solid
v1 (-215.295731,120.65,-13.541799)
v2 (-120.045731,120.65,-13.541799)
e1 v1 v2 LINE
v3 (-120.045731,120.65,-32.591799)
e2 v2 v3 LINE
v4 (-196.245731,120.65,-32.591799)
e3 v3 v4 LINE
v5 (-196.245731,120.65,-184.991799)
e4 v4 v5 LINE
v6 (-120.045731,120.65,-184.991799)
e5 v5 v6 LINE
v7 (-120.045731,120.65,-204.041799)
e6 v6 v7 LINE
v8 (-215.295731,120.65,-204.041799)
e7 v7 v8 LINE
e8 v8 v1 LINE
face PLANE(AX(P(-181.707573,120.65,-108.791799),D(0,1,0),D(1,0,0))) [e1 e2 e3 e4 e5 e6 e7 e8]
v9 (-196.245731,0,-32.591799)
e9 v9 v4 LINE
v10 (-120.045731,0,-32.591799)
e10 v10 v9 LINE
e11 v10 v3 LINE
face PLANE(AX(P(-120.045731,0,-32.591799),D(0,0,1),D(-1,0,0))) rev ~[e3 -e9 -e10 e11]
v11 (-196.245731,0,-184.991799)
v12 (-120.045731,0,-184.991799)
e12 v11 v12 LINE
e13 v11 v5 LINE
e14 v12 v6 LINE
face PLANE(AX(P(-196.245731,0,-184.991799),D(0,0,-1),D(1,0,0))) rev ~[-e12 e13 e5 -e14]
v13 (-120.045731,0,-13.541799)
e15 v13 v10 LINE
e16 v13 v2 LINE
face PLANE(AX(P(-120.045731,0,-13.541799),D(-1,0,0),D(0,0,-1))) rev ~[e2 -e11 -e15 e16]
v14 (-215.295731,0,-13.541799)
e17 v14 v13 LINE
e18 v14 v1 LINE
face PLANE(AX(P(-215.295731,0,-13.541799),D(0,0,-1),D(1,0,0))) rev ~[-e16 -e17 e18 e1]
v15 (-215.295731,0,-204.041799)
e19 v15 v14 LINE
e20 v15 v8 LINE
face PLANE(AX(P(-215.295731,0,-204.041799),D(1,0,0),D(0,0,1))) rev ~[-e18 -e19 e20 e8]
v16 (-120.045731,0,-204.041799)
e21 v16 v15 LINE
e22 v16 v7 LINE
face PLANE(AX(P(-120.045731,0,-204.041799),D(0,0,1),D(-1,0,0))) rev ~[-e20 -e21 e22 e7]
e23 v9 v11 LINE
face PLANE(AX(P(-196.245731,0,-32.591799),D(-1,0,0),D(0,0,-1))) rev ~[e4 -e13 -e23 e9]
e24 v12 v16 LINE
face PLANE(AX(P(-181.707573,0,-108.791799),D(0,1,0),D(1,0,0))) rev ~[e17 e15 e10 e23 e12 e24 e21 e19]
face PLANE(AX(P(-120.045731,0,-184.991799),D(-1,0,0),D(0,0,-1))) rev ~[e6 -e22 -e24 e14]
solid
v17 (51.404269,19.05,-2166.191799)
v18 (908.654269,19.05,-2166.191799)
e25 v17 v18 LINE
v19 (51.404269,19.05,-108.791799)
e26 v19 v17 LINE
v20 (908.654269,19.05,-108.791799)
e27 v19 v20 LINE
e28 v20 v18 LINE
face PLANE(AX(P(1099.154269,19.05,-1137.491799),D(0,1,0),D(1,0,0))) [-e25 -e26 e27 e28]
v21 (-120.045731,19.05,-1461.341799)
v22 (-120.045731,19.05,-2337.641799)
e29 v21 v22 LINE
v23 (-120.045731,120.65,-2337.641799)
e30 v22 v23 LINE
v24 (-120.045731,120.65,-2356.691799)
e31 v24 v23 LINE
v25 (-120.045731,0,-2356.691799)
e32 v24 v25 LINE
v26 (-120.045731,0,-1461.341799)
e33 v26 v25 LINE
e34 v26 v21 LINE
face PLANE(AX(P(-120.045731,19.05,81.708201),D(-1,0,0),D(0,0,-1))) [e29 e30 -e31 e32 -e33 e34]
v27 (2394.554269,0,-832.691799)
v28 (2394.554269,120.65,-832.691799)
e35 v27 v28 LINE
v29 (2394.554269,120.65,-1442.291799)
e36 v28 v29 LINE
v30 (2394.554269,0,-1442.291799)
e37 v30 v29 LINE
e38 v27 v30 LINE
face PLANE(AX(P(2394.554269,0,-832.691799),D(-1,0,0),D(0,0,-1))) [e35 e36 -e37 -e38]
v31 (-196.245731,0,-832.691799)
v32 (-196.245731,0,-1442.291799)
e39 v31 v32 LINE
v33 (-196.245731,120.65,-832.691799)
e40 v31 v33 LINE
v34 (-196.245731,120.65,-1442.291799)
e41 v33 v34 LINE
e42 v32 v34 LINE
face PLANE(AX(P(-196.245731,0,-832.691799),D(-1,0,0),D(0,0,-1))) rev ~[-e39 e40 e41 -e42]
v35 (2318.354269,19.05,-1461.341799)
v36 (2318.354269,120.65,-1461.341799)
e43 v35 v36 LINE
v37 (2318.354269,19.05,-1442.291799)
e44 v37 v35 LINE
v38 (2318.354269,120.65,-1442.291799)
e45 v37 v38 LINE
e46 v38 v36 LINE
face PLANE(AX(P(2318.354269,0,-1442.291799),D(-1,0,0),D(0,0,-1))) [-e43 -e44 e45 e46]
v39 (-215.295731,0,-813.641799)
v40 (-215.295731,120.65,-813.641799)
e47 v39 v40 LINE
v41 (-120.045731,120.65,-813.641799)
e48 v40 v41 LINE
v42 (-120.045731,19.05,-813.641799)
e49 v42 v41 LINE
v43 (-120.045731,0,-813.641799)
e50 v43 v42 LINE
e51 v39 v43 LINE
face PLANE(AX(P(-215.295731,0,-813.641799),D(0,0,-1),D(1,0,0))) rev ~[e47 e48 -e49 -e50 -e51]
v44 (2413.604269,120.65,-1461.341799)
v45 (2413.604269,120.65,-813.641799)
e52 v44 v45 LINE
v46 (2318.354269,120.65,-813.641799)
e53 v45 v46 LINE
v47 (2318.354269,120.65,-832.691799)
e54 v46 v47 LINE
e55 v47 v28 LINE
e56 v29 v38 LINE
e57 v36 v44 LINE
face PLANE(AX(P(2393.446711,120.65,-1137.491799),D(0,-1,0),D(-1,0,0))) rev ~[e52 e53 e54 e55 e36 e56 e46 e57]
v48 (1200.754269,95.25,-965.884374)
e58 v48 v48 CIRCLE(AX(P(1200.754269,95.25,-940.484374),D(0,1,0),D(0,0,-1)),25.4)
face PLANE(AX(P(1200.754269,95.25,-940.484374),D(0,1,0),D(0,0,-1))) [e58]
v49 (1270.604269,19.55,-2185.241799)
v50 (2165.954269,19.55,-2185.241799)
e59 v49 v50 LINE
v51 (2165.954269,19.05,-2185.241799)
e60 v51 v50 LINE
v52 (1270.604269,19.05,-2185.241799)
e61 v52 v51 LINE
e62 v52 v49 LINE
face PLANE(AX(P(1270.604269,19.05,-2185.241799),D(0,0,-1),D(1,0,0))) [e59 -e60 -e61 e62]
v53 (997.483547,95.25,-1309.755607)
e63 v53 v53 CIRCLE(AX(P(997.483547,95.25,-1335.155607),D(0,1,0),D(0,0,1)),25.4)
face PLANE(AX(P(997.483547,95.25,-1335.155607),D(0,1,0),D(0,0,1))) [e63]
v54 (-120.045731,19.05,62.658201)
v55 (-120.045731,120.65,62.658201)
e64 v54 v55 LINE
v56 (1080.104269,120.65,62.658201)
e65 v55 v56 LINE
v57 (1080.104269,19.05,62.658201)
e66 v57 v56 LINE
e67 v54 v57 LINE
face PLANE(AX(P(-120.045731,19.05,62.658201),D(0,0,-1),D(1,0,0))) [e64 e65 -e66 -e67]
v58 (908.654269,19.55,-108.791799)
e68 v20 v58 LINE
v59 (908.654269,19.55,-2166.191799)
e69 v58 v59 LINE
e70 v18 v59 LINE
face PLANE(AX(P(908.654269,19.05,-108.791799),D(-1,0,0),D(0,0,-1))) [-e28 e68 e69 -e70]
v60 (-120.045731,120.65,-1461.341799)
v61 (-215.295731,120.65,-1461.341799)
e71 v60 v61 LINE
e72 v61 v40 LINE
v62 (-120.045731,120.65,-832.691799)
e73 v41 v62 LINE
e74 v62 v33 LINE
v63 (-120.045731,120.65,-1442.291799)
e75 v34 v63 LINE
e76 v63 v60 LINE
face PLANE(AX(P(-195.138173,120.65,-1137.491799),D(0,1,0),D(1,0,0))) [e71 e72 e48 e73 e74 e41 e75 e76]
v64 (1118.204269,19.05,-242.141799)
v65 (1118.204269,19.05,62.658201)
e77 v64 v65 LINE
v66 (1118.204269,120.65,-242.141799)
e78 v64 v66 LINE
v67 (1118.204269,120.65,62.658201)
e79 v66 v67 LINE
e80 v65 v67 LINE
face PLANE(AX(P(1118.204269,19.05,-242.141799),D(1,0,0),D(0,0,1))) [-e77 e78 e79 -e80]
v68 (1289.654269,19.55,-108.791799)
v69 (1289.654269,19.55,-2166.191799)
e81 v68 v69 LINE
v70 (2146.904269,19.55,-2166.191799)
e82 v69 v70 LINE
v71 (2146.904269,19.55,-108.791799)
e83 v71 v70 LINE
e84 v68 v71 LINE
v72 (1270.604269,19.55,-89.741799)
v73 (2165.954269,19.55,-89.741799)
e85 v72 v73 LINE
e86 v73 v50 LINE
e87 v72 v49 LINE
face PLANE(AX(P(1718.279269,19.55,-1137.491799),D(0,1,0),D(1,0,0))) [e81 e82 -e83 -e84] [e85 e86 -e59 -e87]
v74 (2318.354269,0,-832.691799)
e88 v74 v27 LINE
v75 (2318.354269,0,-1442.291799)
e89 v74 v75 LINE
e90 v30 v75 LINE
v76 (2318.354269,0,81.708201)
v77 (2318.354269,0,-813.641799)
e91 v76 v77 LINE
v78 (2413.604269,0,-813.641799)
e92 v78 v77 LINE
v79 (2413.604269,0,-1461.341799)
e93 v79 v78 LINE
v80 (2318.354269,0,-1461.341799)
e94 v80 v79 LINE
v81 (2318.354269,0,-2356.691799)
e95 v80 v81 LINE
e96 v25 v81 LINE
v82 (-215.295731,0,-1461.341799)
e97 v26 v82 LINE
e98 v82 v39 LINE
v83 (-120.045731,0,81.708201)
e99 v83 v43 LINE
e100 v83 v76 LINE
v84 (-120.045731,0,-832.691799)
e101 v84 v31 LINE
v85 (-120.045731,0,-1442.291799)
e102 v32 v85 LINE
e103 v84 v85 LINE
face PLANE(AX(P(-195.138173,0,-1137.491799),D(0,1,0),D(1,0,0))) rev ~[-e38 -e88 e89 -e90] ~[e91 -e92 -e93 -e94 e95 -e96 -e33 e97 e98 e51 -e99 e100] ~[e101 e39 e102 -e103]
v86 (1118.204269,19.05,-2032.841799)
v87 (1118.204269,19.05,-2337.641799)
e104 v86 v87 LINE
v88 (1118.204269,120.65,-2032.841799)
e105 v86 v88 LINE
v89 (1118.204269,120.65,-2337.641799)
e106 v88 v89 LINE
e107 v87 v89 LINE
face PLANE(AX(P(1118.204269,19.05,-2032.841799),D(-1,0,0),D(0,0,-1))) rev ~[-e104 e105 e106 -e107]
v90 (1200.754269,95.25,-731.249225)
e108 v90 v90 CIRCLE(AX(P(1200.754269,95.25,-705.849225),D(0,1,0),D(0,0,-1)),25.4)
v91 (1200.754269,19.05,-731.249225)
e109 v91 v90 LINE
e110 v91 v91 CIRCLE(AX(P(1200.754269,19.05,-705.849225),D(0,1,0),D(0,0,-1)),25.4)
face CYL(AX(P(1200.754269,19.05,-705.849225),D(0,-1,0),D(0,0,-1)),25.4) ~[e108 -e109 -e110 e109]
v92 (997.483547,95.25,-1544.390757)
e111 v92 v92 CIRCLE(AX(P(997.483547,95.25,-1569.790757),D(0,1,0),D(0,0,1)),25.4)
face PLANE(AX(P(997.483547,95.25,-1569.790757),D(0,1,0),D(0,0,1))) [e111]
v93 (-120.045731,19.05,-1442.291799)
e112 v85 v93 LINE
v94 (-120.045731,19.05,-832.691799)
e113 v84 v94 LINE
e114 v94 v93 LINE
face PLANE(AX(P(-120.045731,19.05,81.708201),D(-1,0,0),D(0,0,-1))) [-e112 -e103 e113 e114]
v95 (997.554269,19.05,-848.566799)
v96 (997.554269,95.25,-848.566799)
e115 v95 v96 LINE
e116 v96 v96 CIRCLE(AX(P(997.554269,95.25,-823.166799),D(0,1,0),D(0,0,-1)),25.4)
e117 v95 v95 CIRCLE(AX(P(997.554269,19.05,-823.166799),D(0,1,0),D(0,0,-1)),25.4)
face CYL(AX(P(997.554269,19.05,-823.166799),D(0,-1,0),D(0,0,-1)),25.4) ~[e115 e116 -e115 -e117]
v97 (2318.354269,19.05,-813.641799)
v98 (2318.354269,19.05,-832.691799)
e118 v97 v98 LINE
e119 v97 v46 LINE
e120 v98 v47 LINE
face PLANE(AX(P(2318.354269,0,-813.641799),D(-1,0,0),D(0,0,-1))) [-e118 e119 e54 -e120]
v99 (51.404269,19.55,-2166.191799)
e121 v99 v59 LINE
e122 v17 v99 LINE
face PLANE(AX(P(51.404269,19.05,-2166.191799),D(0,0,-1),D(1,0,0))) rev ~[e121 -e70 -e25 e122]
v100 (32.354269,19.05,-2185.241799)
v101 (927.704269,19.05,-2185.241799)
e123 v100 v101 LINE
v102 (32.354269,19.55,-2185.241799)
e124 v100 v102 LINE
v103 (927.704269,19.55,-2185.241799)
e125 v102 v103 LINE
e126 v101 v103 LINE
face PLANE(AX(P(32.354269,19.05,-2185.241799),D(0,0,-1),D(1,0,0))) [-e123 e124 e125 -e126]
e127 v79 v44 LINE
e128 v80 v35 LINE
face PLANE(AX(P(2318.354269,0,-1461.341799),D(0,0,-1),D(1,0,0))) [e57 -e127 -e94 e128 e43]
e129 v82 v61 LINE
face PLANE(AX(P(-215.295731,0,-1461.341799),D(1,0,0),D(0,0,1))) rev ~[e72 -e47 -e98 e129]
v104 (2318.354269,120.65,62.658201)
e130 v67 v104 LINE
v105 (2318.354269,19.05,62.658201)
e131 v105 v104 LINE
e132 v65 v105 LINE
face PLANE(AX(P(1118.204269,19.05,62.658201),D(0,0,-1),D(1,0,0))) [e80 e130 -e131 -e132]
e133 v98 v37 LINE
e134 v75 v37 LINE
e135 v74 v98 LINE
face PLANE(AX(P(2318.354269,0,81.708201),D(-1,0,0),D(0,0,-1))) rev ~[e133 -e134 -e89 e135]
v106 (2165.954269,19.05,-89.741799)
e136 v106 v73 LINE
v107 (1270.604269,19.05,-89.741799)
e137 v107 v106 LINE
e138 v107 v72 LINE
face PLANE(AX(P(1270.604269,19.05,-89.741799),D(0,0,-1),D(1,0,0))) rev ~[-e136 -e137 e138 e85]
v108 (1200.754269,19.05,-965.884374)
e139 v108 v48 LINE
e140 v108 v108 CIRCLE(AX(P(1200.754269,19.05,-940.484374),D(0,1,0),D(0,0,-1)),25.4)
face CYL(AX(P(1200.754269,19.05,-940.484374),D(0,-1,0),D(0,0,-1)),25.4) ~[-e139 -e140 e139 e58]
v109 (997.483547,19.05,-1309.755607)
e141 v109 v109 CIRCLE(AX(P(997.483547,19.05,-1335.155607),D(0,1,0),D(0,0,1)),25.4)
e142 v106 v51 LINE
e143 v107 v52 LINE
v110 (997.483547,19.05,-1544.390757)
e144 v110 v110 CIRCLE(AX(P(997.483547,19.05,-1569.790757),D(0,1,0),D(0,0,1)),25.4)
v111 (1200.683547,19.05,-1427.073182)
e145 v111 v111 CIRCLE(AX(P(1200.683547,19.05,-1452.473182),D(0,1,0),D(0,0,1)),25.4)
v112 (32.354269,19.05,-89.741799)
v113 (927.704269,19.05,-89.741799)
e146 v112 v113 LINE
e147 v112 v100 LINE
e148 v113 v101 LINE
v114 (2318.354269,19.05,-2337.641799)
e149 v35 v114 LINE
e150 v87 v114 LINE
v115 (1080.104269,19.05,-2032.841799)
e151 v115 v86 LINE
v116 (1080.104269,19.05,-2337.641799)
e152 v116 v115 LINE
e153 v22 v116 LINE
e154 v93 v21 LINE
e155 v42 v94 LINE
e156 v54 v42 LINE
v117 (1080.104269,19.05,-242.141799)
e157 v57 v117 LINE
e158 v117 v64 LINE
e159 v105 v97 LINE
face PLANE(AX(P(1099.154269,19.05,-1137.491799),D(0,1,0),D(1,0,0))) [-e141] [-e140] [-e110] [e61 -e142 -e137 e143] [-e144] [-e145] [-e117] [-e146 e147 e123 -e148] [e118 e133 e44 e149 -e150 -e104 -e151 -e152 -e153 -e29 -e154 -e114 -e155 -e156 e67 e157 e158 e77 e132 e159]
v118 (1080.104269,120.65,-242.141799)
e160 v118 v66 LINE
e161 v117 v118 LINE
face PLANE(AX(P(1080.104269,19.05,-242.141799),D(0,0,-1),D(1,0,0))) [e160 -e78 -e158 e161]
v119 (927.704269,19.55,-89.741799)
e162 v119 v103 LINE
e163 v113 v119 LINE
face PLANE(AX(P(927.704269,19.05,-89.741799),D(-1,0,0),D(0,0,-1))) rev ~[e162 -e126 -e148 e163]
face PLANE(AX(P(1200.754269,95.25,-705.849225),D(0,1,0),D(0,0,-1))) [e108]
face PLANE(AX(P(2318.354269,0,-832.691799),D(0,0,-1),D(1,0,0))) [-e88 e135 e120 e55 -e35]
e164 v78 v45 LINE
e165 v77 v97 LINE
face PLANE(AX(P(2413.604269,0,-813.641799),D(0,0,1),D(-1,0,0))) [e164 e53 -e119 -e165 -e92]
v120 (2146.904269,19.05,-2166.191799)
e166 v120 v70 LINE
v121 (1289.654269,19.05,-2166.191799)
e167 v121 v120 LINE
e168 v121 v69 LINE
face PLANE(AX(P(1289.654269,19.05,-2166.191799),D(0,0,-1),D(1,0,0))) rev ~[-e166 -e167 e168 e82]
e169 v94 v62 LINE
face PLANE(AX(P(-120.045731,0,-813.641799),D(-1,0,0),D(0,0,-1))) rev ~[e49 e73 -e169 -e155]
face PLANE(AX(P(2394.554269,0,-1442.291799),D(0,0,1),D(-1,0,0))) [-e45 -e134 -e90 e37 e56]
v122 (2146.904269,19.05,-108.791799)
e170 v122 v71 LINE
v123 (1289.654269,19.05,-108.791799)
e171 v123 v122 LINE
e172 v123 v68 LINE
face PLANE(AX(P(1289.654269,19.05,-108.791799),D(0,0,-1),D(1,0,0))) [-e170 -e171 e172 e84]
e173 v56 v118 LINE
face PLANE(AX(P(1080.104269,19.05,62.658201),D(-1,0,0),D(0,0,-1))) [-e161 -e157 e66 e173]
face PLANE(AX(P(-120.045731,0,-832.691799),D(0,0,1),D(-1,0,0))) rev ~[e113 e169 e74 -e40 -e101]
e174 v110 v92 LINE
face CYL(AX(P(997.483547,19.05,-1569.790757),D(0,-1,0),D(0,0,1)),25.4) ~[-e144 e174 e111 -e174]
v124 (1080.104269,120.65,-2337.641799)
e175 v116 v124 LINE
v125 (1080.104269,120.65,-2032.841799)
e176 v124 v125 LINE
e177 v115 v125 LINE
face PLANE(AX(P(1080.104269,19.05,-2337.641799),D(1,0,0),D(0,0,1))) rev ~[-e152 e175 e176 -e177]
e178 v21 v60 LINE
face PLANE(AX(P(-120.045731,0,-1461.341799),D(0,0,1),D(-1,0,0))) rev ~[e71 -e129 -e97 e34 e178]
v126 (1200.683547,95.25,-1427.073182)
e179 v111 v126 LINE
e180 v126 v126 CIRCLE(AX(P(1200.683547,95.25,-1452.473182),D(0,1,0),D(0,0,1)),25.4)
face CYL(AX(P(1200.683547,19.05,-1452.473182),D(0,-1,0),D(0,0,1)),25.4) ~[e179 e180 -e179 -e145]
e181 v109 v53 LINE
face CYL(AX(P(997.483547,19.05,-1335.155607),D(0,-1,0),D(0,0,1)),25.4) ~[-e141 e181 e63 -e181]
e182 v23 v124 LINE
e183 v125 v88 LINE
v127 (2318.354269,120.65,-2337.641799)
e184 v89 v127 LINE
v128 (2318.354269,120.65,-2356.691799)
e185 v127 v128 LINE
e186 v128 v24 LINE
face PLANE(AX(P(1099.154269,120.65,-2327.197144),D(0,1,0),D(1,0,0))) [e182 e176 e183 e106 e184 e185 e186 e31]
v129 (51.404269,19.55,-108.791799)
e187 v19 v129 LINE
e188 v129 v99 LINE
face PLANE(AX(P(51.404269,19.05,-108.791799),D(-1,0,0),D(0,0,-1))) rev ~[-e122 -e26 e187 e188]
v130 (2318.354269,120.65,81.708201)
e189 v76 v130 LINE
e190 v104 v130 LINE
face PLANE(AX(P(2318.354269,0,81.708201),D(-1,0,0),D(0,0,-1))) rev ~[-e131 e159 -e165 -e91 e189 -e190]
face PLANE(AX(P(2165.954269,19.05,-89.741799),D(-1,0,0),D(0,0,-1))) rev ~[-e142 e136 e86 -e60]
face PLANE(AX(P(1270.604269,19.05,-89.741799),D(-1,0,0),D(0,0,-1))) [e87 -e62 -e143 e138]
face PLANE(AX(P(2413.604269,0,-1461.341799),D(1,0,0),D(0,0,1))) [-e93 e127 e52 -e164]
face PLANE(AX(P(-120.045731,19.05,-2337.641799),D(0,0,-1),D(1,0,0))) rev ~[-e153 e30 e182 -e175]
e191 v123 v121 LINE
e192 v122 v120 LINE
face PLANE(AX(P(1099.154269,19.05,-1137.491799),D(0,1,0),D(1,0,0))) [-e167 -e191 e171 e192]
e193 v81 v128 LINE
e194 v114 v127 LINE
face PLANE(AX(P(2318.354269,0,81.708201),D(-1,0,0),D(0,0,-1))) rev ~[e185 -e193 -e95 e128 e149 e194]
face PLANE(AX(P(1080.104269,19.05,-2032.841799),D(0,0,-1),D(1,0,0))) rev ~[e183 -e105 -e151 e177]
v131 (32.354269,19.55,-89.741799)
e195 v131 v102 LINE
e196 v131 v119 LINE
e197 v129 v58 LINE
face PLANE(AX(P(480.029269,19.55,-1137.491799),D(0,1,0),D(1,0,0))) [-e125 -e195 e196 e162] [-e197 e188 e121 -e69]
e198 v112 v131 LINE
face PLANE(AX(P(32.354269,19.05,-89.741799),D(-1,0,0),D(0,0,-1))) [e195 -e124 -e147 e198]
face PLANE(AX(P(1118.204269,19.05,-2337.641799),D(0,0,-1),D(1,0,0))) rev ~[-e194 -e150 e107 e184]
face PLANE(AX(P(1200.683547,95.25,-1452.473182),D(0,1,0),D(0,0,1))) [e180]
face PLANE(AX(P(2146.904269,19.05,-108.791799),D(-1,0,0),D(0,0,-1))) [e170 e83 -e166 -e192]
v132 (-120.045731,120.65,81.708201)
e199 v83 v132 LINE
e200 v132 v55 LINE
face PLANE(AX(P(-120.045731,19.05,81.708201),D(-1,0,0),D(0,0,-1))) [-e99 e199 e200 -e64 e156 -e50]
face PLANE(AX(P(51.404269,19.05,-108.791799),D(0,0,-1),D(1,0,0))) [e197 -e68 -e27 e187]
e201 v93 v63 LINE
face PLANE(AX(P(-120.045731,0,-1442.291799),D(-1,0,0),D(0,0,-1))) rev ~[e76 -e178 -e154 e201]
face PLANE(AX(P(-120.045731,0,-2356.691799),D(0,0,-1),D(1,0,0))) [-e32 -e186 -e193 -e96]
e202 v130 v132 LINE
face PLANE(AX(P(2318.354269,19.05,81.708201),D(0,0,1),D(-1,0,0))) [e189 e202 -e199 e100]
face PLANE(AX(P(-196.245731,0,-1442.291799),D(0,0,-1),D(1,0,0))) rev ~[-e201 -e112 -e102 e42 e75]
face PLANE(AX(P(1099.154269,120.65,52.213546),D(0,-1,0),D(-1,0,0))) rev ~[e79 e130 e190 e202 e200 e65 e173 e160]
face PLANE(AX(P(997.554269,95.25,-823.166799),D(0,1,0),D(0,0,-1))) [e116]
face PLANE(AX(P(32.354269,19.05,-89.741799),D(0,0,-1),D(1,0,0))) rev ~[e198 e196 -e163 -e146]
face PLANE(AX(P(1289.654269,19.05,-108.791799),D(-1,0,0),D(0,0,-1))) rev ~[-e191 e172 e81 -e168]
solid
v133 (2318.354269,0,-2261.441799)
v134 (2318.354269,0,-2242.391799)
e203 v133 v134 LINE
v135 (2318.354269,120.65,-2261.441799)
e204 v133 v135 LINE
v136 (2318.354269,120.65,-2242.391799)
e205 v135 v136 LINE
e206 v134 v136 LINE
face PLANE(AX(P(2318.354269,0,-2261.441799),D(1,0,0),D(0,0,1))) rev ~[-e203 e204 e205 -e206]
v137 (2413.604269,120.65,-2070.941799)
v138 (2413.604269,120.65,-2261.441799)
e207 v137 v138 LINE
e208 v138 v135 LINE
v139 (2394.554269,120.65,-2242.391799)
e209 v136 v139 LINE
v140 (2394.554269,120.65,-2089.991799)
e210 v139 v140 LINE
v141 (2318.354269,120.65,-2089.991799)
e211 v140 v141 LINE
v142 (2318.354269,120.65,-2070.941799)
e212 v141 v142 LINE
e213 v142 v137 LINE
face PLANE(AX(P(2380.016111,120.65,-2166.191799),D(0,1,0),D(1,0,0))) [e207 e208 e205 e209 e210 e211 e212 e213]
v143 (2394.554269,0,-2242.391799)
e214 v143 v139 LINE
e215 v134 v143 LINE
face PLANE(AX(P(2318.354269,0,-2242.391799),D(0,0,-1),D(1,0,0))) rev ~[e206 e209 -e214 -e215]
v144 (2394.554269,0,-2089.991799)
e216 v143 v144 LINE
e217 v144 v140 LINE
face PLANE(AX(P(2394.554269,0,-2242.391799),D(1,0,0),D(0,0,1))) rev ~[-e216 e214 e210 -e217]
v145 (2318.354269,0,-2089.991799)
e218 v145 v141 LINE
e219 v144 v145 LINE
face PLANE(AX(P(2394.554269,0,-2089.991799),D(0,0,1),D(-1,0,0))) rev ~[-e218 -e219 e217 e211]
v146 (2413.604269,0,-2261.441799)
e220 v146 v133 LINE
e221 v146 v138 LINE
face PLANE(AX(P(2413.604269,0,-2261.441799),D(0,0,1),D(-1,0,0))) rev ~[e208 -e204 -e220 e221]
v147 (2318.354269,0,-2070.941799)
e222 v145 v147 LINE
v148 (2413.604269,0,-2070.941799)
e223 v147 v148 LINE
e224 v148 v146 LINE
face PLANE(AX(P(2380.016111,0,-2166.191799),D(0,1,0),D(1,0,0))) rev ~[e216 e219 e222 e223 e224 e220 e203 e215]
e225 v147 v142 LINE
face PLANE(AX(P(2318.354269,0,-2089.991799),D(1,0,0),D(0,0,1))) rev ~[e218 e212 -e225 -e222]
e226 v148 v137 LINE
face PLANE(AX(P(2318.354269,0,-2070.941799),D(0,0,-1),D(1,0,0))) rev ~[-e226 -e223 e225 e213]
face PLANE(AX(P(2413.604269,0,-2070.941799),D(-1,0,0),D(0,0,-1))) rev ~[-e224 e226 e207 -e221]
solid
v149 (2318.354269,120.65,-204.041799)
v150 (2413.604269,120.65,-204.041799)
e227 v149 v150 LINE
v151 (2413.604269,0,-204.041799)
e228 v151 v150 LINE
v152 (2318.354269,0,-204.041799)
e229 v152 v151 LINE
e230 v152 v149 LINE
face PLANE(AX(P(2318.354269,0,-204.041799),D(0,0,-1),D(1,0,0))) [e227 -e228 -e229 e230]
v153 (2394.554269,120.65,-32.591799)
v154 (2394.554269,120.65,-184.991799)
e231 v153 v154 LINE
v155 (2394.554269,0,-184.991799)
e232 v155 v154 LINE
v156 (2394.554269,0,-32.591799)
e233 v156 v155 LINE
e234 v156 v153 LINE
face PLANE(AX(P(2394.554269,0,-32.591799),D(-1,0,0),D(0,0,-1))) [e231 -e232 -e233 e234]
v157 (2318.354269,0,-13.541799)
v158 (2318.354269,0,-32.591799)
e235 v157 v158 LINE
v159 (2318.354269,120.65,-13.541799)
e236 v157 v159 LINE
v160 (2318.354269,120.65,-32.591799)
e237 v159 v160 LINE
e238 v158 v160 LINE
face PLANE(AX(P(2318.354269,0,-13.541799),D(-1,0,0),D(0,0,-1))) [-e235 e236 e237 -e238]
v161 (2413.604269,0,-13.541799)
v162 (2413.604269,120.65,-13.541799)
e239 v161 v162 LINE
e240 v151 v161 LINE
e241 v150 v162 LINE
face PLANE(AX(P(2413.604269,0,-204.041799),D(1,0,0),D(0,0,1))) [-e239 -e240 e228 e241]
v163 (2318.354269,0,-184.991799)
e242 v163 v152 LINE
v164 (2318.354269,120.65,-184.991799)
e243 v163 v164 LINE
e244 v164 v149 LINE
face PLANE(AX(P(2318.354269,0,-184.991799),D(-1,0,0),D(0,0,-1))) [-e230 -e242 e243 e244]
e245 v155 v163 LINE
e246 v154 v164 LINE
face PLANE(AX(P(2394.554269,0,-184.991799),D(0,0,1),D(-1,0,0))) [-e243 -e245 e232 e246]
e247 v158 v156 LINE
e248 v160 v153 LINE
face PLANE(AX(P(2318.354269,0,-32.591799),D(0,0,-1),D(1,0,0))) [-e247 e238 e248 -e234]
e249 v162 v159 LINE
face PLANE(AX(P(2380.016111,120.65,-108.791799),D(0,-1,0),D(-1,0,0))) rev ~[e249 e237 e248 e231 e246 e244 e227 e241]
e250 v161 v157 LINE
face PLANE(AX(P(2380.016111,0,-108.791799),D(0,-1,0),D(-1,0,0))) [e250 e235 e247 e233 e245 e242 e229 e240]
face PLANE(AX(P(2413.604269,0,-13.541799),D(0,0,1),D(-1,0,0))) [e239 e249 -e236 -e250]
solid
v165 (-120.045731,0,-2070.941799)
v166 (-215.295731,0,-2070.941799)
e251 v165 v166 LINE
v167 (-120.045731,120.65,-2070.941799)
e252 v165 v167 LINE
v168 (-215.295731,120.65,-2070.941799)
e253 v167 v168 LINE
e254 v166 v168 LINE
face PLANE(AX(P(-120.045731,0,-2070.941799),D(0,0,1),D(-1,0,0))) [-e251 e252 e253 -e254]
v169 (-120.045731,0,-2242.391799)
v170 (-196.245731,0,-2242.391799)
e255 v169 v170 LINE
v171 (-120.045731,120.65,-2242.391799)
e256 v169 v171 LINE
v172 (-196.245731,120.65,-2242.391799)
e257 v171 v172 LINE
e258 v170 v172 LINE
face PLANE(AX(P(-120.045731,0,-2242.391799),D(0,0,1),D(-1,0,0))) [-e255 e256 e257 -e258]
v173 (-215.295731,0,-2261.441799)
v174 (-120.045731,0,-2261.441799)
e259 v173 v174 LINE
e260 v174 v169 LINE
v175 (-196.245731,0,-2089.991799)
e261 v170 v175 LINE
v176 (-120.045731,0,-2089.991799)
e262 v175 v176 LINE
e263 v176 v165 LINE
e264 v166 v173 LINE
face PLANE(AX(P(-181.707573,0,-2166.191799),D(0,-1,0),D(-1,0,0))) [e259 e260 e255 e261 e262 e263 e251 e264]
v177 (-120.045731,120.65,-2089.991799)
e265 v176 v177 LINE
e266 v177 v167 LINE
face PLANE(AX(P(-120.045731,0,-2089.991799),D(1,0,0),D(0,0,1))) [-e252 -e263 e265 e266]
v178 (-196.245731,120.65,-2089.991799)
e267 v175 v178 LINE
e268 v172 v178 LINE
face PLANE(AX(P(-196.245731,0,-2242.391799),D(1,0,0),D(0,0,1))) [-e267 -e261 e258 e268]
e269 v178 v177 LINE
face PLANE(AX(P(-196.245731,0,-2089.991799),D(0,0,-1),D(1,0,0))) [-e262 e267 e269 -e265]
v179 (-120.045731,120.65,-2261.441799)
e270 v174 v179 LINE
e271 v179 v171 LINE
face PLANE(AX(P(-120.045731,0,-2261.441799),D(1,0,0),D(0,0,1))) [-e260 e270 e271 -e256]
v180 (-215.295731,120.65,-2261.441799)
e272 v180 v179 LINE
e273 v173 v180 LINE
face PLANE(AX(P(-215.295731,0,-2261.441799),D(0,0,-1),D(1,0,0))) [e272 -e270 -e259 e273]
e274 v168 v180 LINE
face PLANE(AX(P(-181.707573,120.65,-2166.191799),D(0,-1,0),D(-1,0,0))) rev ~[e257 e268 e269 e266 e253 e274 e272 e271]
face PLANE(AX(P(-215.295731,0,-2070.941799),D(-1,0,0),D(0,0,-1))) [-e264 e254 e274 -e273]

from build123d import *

# Parameters (mm, degrees)
SKETCH1_W                  = 2438.4
SKETCH1_H                  = 2438.4
BOSS_EXTRUDE1_DEPTH        = 19.05
BOSS_EXTRUDE2_DEPTH        = 101.6
BOSS_EXTRUDE3_DEPTH        = 101.6
BOSS_EXTRUDE3_DEPTH_BACK   = 19.05
BOSS_EXTRUDE3_2_DEPTH      = 101.6
BOSS_EXTRUDE3_2_DEPTH_BACK = 19.05
BOSS_EXTRUDE3_3_DEPTH      = 101.6
BOSS_EXTRUDE3_3_DEPTH_BACK = 19.05
BOSS_EXTRUDE3_4_DEPTH      = 101.6
BOSS_EXTRUDE3_4_DEPTH_BACK = 19.05
BOSS_EXTRUDE4_DEPTH        = 101.6
BOSS_EXTRUDE4_DEPTH_BACK   = 19.05
SKETCH6_R                  = 25.4
BOSS_EXTRUDE5_DEPTH        = 76.2
CIRPATTERN1_COUNT          = 2
SKETCH7_W                  = 895.35
SKETCH7_H                  = 2095.5
SKETCH7_W_2                = 857.25
SKETCH7_H_2                = 2057.4
BOSS_EXTRUDE6_DEPTH        = 0.5


with BuildPart() as part:
    # Sketch1 → Boss-Extrude1 (new body)
    with BuildSketch(Plane(origin=(0, 0, 0), x_dir=(1, 0, 0), z_dir=(0, 1, 0))):
        with Locations((1099.154268687, 1137.491799293)):
            Rectangle(SKETCH1_W, SKETCH1_H)
    extrude(amount=BOSS_EXTRUDE1_DEPTH)

    # Sketch2 → Boss-Extrude2 (add)
    with BuildSketch(Plane(origin=(0, 19.05, 0), x_dir=(1, 0, 0), z_dir=(0, 1, 0))):
        Polygon((-120.045731313, -62.658200707), (1080.104268687, -62.658200707), (1080.104268687, 242.141799293), (1118.204268687, 242.141799293), (1118.204268687, -62.658200707), (2318.354268687, -62.658200707), (2318.354268687, -81.708200707), (-120.045731313, -81.708200707), align=None)
        Polygon((-120.045731313, 2356.691799293), (-120.045731313, 2337.641799293), (1080.104268687, 2337.641799293), (1080.104268687, 2032.841799293), (1118.204268687, 2032.841799293), (1118.204268687, 2337.641799293), (2318.354268687, 2337.641799293), (2318.354268687, 2356.691799293), align=None)
    extrude(amount=BOSS_EXTRUDE2_DEPTH)

    # Sketch5 → Boss-Extrude4 (add, two sides: drawn at the far end of the back side and taken through both)
    with BuildSketch(Plane(origin=(0, 19.05, 0), x_dir=(1, 0, 0), z_dir=(0, 1, 0)).offset(-BOSS_EXTRUDE4_DEPTH_BACK)):
        Polygon((-120.045731313, 1461.341799293), (-215.295731313, 1461.341799293), (-215.295731313, 813.641799293), (-120.045731313, 813.641799293), (-120.045731313, 832.691799293), (-196.245731313, 832.691799293), (-196.245731313, 1442.291799293), (-120.045731313, 1442.291799293), align=None)
        Polygon((2318.354268687, 1442.291799293), (2318.354268687, 1461.341799293), (2413.604268687, 1461.341799293), (2413.604268687, 813.641799293), (2318.354268687, 813.641799293), (2318.354268687, 832.691799293), (2394.554268687, 832.691799293), (2394.554268687, 1442.291799293), align=None)
    extrude(amount=BOSS_EXTRUDE4_DEPTH + BOSS_EXTRUDE4_DEPTH_BACK)

    # Sketch6 → Boss-Extrude5 (add)
    with BuildSketch(Plane(origin=(0, 19.05, 0), x_dir=(1, 0, 0), z_dir=(0, 1, 0))):
        with Locations((997.554268687, 823.166799293)):
            Circle(SKETCH6_R)
        with Locations((1200.754268687, 940.484373993)):
            Circle(SKETCH6_R)
        with Locations((1200.754268687, 705.849224594)):
            Circle(SKETCH6_R)
    boss_extrude5 = extrude(amount=BOSS_EXTRUDE5_DEPTH)

    # CirPattern1: Boss-Extrude5 ×2 about axis
    cirpattern1_axis = Axis((1099.118908009, 19.05, -1137.81999058), (0, 1, 0))
    for i in range(1, CIRPATTERN1_COUNT):
        add(boss_extrude5.rotate(cirpattern1_axis, i * 360 / CIRPATTERN1_COUNT))

    # Sketch7 → Boss-Extrude6 (add)
    # profile 1 of 2: a face of its own
    with BuildSketch(Plane(origin=(0, 19.05, 0), x_dir=(1, 0, 0), z_dir=(0, 1, 0))):
        with Locations((480.029268687, 1137.491799293)):
            Rectangle(SKETCH7_W, SKETCH7_H)
        with Locations((480.029268687, 1137.491799293)):
            Rectangle(SKETCH7_W_2, SKETCH7_H_2, mode=Mode.SUBTRACT)
    # profile 2 of 2: a face of its own
    with BuildSketch(Plane(origin=(0, 19.05, 0), x_dir=(1, 0, 0), z_dir=(0, 1, 0))):
        with Locations((1718.279268687, 1137.491799293)):
            Rectangle(SKETCH7_W, SKETCH7_H)
        with Locations((1718.279268687, 1137.491799293)):
            Rectangle(SKETCH7_W_2, SKETCH7_H_2, mode=Mode.SUBTRACT)
    extrude(amount=BOSS_EXTRUDE6_DEPTH)


with BuildPart() as body_2:
    # Sketch3 → Boss-Extrude3 (new, two sides: drawn at the far end of the back side and taken through both)
    with BuildSketch(Plane(origin=(0, 19.05, 0), x_dir=(1, 0, 0), z_dir=(0, 1, 0)).offset(-BOSS_EXTRUDE3_DEPTH_BACK)):
        Polygon((-120.045731313, 32.591799293), (-196.245731313, 32.591799293), (-196.245731313, 184.991799293), (-120.045731313, 184.991799293), (-120.045731313, 204.041799293), (-215.295731313, 204.041799293), (-215.295731313, 13.541799293), (-120.045731313, 13.541799293), align=None)
    extrude(amount=BOSS_EXTRUDE3_DEPTH + BOSS_EXTRUDE3_DEPTH_BACK)


with BuildPart() as body_3:
    # Sketch3 → Boss-Extrude3 2 (new, two sides: drawn at the far end of the back side and taken through both)
    with BuildSketch(Plane(origin=(0, 19.05, 0), x_dir=(1, 0, 0), z_dir=(0, 1, 0)).offset(-BOSS_EXTRUDE3_2_DEPTH_BACK)):
        Polygon((-120.045731313, 2261.441799293), (-120.045731313, 2242.391799293), (-196.245731313, 2242.391799293), (-196.245731313, 2089.991799293), (-120.045731313, 2089.991799293), (-120.045731313, 2070.941799293), (-215.295731313, 2070.941799293), (-215.295731313, 2261.441799293), align=None)
    extrude(amount=BOSS_EXTRUDE3_2_DEPTH + BOSS_EXTRUDE3_2_DEPTH_BACK)


with BuildPart() as body_4:
    # Sketch3 → Boss-Extrude3 3 (new, two sides: drawn at the far end of the back side and taken through both)
    with BuildSketch(Plane(origin=(0, 19.05, 0), x_dir=(1, 0, 0), z_dir=(0, 1, 0)).offset(-BOSS_EXTRUDE3_3_DEPTH_BACK)):
        Polygon((2318.354268687, 2242.391799293), (2394.554268687, 2242.391799293), (2394.554268687, 2089.991799293), (2318.354268687, 2089.991799293), (2318.354268687, 2070.941799293), (2413.604268687, 2070.941799293), (2413.604268687, 2261.441799293), (2318.354268687, 2261.441799293), align=None)
    extrude(amount=BOSS_EXTRUDE3_3_DEPTH + BOSS_EXTRUDE3_3_DEPTH_BACK)


with BuildPart() as body_5:
    # Sketch3 → Boss-Extrude3 4 (new, two sides: drawn at the far end of the back side and taken through both)
    with BuildSketch(Plane(origin=(0, 19.05, 0), x_dir=(1, 0, 0), z_dir=(0, 1, 0)).offset(-BOSS_EXTRUDE3_4_DEPTH_BACK)):
        Polygon((2318.354268687, 13.541799293), (2318.354268687, 32.591799293), (2394.554268687, 32.591799293), (2394.554268687, 184.991799293), (2318.354268687, 184.991799293), (2318.354268687, 204.041799293), (2413.604268687, 204.041799293), (2413.604268687, 13.541799293), align=None)
    extrude(amount=BOSS_EXTRUDE3_4_DEPTH + BOSS_EXTRUDE3_4_DEPTH_BACK)


solid = Compound([part.part, body_2.part, body_3.part, body_4.part, body_5.part])
